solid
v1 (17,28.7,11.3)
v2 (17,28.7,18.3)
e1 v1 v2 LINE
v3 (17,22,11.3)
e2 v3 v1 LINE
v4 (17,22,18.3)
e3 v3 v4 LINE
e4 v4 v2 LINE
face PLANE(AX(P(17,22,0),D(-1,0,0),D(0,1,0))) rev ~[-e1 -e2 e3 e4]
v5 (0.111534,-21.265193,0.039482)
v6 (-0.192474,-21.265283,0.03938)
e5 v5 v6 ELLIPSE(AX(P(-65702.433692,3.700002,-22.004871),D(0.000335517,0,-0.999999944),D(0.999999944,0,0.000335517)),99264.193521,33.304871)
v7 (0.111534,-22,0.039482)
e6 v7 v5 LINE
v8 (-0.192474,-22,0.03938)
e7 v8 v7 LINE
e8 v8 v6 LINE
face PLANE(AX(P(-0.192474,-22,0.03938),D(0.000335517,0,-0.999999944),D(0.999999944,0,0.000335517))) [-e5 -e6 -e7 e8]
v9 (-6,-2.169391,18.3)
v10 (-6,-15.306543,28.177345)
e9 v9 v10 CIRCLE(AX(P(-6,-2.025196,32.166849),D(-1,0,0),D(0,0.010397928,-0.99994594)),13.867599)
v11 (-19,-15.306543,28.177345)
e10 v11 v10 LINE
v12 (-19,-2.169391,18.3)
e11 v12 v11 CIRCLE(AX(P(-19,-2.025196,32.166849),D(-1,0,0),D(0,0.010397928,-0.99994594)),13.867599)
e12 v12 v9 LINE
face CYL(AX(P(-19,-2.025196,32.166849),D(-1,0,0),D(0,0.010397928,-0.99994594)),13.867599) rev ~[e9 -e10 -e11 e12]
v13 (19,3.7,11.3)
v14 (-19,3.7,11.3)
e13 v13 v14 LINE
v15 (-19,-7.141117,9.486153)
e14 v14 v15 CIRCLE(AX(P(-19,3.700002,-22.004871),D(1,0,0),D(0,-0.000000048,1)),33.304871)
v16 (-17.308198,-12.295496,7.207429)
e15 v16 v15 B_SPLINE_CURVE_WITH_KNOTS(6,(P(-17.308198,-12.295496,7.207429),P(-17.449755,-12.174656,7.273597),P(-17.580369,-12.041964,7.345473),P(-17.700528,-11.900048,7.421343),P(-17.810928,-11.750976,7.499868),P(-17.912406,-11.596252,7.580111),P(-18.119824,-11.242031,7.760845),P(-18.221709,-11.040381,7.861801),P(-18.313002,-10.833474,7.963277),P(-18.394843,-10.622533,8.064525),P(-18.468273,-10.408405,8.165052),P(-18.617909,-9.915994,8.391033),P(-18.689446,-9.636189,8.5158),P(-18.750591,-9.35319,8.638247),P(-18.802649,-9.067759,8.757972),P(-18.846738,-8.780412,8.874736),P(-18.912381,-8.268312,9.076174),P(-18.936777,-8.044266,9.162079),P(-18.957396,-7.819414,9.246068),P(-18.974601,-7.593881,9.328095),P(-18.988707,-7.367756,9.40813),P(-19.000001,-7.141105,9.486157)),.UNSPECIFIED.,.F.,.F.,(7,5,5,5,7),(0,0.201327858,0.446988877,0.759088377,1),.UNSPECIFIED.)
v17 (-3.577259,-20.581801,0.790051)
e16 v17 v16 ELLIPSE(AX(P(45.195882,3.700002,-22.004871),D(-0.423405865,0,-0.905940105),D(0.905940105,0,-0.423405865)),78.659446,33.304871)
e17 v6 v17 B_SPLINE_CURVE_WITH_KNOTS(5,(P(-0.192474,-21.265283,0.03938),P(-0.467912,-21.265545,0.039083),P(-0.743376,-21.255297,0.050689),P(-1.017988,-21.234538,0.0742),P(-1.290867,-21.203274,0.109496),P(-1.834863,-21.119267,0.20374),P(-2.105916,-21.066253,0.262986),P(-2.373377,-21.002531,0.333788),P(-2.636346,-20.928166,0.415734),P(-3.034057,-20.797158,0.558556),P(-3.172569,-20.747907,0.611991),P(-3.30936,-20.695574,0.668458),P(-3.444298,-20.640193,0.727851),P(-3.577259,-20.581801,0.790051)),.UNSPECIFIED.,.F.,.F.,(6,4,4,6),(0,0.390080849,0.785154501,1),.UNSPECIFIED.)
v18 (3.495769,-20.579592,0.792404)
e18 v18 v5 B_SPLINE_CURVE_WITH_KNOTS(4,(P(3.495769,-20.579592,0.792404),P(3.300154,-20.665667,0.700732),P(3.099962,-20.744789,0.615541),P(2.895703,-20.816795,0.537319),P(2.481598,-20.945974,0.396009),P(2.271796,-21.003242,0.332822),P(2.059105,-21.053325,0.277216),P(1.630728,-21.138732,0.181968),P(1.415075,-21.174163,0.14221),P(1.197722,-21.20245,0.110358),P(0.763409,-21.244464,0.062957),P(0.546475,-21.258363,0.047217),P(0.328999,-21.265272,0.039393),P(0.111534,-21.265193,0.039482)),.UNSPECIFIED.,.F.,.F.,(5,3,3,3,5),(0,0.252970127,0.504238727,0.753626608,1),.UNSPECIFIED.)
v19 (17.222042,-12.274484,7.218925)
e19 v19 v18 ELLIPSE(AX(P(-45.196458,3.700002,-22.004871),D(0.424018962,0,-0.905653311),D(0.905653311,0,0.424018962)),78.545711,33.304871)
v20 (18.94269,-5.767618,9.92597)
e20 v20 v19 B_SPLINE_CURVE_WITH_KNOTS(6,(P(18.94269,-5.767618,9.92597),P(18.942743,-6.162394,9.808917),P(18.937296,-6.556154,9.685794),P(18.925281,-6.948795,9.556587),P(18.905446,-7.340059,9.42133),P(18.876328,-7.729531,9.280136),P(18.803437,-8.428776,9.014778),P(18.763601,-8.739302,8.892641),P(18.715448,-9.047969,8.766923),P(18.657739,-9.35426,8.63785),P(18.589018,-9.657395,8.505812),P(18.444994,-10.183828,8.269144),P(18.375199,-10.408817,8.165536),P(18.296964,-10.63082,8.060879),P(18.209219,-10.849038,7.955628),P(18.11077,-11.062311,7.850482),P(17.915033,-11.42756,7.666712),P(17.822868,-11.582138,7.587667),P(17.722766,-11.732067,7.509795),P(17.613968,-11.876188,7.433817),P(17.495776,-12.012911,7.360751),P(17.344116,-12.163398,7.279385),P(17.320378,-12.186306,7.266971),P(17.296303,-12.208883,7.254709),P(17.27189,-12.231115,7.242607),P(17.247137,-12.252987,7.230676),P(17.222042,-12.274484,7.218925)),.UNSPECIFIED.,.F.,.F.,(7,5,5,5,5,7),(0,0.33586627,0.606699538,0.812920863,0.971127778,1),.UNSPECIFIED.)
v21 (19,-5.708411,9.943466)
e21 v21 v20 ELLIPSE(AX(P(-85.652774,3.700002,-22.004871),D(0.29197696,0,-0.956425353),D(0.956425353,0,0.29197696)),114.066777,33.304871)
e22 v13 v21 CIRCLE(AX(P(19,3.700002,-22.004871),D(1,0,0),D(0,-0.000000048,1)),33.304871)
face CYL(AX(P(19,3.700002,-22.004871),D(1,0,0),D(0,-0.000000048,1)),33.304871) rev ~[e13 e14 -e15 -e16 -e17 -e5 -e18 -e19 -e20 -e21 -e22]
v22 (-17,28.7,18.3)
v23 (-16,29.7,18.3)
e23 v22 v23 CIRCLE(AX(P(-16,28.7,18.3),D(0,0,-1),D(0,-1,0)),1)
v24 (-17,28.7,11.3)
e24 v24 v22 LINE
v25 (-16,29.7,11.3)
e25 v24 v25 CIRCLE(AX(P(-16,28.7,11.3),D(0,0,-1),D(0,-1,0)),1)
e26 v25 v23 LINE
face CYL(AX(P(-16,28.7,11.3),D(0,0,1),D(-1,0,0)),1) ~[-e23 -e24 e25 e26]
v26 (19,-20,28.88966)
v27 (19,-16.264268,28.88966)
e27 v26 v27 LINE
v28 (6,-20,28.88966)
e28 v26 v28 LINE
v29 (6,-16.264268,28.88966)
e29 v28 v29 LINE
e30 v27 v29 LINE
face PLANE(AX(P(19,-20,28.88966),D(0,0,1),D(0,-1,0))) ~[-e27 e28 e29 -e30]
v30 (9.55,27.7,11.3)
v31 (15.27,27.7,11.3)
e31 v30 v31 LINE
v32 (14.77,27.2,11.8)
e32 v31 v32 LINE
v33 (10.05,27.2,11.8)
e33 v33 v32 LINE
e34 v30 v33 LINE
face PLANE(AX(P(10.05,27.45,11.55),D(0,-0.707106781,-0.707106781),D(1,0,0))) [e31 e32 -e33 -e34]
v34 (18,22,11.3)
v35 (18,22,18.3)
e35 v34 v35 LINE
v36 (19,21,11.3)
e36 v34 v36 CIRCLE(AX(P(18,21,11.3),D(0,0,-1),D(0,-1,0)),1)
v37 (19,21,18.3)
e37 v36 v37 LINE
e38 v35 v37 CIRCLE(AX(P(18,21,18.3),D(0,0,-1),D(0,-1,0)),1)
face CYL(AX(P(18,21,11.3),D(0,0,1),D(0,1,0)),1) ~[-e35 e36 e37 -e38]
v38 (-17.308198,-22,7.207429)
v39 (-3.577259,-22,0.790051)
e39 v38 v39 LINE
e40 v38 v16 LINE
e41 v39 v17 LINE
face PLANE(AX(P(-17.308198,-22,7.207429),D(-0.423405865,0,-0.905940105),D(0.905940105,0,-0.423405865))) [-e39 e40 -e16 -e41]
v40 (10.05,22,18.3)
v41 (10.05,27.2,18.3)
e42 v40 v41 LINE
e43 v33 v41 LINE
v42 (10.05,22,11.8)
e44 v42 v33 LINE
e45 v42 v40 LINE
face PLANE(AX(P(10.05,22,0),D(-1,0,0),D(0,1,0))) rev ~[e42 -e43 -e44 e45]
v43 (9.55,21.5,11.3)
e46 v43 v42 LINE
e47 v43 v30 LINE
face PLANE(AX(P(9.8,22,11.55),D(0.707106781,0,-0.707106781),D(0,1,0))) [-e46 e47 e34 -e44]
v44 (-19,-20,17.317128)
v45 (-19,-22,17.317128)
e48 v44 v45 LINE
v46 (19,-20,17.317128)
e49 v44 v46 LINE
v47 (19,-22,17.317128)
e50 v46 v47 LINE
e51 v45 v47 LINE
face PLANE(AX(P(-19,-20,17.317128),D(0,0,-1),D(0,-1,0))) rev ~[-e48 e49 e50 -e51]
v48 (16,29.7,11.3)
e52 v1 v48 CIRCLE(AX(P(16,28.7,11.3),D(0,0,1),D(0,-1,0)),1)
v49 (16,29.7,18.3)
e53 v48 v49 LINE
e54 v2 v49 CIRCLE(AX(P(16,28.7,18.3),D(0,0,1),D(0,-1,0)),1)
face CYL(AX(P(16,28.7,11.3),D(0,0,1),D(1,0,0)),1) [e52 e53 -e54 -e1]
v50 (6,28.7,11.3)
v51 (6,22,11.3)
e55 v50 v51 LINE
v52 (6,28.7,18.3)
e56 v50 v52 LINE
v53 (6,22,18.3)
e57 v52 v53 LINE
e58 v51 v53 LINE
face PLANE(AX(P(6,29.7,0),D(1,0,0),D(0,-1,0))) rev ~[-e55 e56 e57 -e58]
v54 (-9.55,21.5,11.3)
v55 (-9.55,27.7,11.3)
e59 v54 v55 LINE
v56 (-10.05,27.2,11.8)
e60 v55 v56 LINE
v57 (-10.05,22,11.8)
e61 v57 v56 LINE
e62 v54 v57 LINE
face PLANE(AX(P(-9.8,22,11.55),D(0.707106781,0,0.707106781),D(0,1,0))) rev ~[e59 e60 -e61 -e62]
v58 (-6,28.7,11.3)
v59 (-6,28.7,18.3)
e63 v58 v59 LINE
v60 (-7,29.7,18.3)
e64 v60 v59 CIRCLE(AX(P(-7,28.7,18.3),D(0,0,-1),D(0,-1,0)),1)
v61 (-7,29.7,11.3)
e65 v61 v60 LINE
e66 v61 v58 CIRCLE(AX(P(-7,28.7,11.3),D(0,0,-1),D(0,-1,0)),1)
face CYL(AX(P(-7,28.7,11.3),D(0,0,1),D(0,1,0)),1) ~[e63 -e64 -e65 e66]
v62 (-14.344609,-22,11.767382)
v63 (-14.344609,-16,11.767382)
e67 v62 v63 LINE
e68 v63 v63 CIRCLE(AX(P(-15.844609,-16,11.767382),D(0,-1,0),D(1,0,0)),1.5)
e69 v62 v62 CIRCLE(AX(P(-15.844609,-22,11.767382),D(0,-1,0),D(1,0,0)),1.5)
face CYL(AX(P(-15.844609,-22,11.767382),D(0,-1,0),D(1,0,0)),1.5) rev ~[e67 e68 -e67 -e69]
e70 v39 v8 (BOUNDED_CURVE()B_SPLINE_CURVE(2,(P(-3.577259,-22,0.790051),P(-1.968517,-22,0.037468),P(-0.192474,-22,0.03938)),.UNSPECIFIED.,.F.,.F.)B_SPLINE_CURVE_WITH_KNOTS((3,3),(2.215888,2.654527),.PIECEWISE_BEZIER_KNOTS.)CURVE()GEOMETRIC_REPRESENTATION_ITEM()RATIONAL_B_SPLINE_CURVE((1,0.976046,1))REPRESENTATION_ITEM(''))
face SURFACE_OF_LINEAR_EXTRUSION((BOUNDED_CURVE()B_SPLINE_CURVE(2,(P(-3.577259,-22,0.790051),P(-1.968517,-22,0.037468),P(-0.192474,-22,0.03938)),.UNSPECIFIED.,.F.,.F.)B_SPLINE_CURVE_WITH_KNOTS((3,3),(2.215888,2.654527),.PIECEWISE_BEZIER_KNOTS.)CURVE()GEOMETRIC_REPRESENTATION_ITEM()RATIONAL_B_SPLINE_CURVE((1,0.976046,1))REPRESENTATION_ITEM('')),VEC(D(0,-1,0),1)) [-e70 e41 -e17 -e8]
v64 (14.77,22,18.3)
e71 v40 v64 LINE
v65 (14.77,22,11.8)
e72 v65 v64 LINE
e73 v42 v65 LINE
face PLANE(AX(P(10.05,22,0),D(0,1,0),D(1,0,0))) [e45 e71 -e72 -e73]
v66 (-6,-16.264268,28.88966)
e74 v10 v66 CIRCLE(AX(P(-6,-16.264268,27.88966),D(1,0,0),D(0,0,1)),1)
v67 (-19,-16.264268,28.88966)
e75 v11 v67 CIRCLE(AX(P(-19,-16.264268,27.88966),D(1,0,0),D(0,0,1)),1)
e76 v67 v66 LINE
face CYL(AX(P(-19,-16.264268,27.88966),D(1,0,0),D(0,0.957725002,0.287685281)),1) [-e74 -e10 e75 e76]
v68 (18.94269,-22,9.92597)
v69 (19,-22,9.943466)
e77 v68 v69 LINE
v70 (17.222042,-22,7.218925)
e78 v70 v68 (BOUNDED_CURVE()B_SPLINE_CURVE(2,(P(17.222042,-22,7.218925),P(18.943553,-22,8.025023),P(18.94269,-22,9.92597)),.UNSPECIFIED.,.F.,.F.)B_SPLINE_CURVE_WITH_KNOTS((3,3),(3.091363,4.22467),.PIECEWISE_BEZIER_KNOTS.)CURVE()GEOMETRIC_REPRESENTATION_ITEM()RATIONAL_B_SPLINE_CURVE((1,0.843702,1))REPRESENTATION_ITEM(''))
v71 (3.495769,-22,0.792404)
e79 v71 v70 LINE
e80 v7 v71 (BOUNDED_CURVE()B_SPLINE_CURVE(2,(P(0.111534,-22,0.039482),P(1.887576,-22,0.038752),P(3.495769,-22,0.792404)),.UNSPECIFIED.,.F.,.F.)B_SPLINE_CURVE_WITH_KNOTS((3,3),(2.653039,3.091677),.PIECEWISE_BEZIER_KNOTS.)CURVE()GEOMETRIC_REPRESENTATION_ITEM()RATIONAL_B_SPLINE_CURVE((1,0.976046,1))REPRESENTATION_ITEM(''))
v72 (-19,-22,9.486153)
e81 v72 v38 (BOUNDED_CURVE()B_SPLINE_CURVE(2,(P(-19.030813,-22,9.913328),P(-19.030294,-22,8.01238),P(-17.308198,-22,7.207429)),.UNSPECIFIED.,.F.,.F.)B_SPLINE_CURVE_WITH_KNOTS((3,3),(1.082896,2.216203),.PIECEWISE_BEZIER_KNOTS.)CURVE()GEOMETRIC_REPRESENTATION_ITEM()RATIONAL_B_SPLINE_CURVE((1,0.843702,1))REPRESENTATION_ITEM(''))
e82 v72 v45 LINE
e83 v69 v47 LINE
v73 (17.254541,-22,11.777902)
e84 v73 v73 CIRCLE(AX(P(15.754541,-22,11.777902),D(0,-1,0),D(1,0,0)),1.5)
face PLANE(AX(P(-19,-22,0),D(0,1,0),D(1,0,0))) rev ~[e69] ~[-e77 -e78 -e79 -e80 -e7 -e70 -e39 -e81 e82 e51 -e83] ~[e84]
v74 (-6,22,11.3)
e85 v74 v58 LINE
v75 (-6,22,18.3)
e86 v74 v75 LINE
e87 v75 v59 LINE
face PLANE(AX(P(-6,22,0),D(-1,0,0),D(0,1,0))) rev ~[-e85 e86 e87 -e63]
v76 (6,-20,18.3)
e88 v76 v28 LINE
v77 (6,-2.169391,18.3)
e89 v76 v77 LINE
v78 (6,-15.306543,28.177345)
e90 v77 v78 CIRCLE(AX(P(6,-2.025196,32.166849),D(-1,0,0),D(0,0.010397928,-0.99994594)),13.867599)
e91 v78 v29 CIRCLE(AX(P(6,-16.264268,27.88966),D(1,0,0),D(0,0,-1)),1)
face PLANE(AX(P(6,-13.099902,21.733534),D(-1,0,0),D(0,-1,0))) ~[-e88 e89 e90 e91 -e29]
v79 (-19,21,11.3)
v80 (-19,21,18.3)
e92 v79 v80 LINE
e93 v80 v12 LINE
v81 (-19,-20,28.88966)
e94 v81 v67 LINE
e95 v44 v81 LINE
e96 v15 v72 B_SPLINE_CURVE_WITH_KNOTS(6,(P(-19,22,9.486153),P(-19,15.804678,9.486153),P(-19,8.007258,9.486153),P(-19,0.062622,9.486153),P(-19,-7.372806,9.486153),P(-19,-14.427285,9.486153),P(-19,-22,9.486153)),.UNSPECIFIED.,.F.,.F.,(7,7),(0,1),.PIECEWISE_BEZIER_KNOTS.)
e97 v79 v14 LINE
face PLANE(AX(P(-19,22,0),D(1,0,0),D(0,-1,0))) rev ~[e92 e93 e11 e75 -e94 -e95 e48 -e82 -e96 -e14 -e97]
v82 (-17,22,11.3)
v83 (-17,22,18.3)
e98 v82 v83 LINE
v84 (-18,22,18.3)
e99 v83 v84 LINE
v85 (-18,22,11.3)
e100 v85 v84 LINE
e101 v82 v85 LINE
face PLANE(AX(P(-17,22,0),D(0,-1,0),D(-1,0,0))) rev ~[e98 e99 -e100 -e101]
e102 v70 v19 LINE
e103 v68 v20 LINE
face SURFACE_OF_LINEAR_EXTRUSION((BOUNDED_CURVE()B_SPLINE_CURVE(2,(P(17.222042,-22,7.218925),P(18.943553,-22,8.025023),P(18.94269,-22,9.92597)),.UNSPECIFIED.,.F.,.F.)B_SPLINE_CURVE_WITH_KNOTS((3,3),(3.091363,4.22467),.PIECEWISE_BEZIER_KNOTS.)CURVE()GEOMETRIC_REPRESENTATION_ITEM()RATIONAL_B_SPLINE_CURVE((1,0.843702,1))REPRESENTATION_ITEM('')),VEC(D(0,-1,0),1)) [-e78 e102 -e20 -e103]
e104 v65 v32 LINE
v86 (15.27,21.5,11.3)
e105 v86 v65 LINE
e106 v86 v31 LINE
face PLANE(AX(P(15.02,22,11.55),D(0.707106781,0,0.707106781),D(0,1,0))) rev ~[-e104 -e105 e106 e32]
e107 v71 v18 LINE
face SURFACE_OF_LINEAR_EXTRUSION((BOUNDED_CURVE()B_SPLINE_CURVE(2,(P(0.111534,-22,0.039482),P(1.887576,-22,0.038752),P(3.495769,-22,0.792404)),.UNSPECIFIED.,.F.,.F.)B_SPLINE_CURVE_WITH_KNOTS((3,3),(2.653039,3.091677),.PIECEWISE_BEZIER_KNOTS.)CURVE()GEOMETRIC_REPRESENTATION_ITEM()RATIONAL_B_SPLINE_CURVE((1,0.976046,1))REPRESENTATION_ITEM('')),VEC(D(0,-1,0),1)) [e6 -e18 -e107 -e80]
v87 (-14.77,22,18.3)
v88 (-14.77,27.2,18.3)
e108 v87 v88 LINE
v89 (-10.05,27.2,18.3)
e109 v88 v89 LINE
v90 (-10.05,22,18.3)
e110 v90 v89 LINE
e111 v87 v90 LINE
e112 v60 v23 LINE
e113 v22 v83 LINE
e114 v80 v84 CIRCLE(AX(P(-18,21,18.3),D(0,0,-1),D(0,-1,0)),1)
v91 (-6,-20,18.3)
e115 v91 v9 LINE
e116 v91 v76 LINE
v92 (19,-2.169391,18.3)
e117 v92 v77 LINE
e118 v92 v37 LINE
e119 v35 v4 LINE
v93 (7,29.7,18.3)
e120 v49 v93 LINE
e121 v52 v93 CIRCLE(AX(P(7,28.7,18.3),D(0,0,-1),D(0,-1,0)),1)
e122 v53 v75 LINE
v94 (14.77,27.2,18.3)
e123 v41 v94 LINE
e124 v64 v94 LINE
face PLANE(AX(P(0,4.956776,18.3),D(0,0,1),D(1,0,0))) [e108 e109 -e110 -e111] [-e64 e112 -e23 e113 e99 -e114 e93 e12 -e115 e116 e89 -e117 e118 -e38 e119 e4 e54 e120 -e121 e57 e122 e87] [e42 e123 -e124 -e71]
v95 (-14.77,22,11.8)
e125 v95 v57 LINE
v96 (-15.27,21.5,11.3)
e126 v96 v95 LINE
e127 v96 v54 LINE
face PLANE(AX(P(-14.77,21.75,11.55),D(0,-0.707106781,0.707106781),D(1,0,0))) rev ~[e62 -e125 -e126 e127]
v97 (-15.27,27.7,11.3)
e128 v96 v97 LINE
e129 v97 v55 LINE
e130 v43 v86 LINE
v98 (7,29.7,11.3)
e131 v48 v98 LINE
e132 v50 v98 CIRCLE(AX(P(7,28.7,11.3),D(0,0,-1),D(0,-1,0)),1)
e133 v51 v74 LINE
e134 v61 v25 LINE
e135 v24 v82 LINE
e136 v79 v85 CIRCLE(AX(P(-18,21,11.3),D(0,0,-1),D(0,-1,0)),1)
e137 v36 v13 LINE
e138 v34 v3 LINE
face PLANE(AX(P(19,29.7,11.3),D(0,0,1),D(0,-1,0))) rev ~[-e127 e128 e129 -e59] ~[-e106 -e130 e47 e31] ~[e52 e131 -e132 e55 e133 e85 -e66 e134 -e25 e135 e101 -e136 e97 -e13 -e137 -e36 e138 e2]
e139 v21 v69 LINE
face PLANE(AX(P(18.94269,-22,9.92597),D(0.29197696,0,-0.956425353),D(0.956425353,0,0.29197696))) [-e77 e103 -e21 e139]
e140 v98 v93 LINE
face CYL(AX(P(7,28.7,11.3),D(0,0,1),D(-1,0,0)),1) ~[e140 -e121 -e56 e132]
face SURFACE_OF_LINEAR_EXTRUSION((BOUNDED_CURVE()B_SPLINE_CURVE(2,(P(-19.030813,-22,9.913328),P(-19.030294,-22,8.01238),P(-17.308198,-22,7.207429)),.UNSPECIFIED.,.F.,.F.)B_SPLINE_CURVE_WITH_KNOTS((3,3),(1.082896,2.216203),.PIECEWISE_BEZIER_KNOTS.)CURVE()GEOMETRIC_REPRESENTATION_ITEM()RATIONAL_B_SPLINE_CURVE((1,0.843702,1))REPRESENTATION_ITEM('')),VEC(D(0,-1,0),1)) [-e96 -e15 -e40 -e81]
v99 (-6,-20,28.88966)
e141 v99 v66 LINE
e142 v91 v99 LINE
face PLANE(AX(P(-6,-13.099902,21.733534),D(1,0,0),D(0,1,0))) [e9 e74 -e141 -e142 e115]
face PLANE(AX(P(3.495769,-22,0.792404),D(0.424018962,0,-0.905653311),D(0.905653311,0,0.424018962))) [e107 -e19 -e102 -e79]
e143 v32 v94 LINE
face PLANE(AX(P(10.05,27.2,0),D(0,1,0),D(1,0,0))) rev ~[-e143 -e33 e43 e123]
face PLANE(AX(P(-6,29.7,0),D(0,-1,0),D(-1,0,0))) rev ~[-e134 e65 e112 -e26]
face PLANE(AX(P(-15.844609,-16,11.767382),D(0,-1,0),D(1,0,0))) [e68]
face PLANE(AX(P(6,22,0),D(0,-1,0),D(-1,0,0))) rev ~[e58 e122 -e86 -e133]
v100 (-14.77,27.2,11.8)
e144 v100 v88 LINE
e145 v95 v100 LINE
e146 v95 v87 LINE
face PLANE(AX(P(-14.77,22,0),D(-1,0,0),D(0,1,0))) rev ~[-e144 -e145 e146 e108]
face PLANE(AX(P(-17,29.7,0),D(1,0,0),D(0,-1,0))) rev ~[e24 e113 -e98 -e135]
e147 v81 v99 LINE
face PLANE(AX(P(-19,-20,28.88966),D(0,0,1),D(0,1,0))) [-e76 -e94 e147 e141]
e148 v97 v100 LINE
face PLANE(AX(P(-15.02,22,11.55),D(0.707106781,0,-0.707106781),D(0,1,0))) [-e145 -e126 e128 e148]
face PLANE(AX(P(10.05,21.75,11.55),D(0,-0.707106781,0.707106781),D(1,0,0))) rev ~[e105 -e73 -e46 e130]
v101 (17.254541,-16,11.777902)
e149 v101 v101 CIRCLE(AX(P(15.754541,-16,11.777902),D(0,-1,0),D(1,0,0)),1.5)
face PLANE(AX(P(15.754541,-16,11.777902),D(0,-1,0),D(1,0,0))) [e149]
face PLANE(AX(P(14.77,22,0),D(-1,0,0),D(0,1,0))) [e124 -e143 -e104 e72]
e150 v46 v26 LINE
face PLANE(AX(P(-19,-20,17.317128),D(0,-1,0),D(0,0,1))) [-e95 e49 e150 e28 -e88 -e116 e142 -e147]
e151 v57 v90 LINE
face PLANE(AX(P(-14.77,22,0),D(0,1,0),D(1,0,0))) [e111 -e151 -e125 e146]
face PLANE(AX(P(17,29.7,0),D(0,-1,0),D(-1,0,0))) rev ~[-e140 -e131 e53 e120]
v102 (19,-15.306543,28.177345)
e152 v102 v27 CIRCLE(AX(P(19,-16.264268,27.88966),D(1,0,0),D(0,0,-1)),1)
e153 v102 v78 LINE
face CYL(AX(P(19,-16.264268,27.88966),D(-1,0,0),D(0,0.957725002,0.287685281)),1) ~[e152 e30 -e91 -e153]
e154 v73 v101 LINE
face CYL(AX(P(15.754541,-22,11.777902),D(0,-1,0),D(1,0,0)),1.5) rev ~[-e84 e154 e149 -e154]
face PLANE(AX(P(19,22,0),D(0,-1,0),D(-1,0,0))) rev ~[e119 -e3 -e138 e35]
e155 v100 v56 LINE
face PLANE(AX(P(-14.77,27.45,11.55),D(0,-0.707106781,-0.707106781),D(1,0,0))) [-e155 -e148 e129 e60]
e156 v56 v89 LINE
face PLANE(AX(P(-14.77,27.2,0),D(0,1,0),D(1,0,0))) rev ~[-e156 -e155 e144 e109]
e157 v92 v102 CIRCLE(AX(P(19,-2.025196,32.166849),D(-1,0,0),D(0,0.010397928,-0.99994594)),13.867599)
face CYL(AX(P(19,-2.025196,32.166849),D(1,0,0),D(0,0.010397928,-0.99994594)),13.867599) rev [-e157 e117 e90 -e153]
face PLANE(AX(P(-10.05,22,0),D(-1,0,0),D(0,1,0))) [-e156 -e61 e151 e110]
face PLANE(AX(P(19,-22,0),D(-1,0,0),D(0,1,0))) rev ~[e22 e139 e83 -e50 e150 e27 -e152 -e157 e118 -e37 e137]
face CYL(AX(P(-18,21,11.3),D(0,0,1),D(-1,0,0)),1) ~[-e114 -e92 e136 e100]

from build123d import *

# Parameters (mm, degrees)
SKETCH_W        = 4.72
SKETCH_H        = 5.2
PAD_DEPTH       = 18.3
POCKET_DEPTH    = 38.001
SKETCH002_R     = 1.5
POCKET001_DEPTH = 6
PAD001_DEPTH    = 13
SKETCH004_W     = 2
SKETCH004_H     = 0.982872
POCKET002_DEPTH = 38.001
POCKET003_DEPTH = 51.701
FILLET_R        = 1
CHAMFER_SIZE    = 0.5
FILLET001_R     = 1


with BuildPart() as part:
    # Sketch → Pad (new body)
    with BuildSketch(Plane.XY):
        Polygon((-19, 22), (-19, -22), (19, -22), (19, 22), (17, 22), (17, 29.7), (6, 29.7), (6, 22), (-6, 22), (-6, 29.7), (-17, 29.7), (-17, 22), align=None)
        with Locations((-12.41, 24.6)):
            Rectangle(SKETCH_W, SKETCH_H, mode=Mode.SUBTRACT)
        with Locations((12.41, 24.6)):
            Rectangle(SKETCH_W, SKETCH_H, mode=Mode.SUBTRACT)
    extrude(amount=PAD_DEPTH)

    # Sketch001 (on Face3 of Pad) → Pocket (cut, through all)
    with BuildSketch(Plane.YZ.offset(19)):
        with BuildLine():
            Line((29.7, 11.3), (29.7, 0))
            Line((29.7, 0), (-21.3, 0))
            ThreePointArc((3.7, 11.3), (-10.017598, 8.343801), (-21.3, 0))
            Line((29.7, 11.3), (3.7, 11.3))
        make_face()
    extrude(amount=-POCKET_DEPTH, mode=Mode.SUBTRACT)

    # Sketch002 (on Face5 of Pocket) → Pocket001 (cut)
    with BuildSketch(Plane.XZ.offset(22)):
        with Locations((-15.844609, 11.767382)):
            Circle(SKETCH002_R)
        with Locations((15.754541, 11.777902)):
            Circle(SKETCH002_R)
    extrude(amount=-POCKET001_DEPTH, mode=Mode.SUBTRACT)

    # Sketch003 (on Face1 of Pocket001) → Pad001 (join)
    with BuildSketch(Plane(origin=(-19, 0, 0), x_dir=(0, -1, 0), z_dir=(-1, 0, 0))):
        with BuildLine():
            Line((20, 18.3), (1.881002, 18.3))
            ThreePointArc((1.881002, 18.3), (10.537629, 21.219302), (15.5, 28.88966))
            Line((20, 28.88966), (15.5, 28.88966))
            Line((20, 18.3), (20, 28.88966))
        make_face()
    pad001 = extrude(amount=-PAD001_DEPTH)

    # Mirrored: Pad001 across YZ
    add(pad001.mirror(Plane.YZ))

    # Sketch004 (on Face5 of Mirrored) → Pocket002 (cut, through all)
    with BuildSketch(Plane(origin=(-19, 0, 0), x_dir=(0, -1, 0), z_dir=(-1, 0, 0))):
        with Locations((21, 17.808564)):
            Rectangle(SKETCH004_W, SKETCH004_H)
    extrude(amount=-POCKET002_DEPTH, mode=Mode.SUBTRACT)

    # Sketch005 (on Face23 of Pocket002) → Pocket003 (cut, through all)
    with BuildSketch(Plane.XZ.offset(22)):
        with BuildLine():
            add(Edge.make_bspline(
                [(-19.030813, 9.913328), (-19.030294, 8.01238), (-17.308198, 7.207429)],
                knots=[1.082896, 1.082896, 1.082896, 2.216203, 2.216203, 2.216203], degree=2, weights=[1, 0.843702, 1]))
            Line((-17.308198, 7.207429), (-3.577259, 0.790051))
            add(Edge.make_bspline(
                [(-3.577259, 0.790051), (-1.968517, 0.037468), (-0.192474, 0.03938)],
                knots=[2.215888, 2.215888, 2.215888, 2.654527, 2.654527, 2.654527], degree=2, weights=[1, 0.976046, 1]))
            Line((-0.192474, 0.03938), (0.111534, 0.039482))
            add(Edge.make_bspline(
                [(0.111534, 0.039482), (1.887576, 0.038752), (3.495769, 0.792404)],
                knots=[2.653039, 2.653039, 2.653039, 3.091677, 3.091677, 3.091677], degree=2, weights=[1, 0.976046, 1]))
            Line((3.495769, 0.792404), (17.222042, 7.218925))
            add(Edge.make_bspline(
                [(17.222042, 7.218925), (18.943553, 8.025023), (18.94269, 9.92597)],
                knots=[3.091363, 3.091363, 3.091363, 4.22467, 4.22467, 4.22467], degree=2, weights=[1, 0.843702, 1]))
            Line((18.94269, 9.92597), (19.755945, 10.17424))
            Line((19.755945, 10.17424), (19.755945, -1.191288))
            Line((19.755945, -1.191288), (-20.023405, -1.191288))
            Line((-20.023405, -1.191288), (-20.023405, 9.913328))
            Line((-20.023405, 9.913328), (-19.030813, 9.913328))
        make_face()
    extrude(amount=-POCKET003_DEPTH, mode=Mode.SUBTRACT)

    # Fillet
    fillet_edges = [part.edges().sort_by_distance(p)[0] for p in [
        (19, 22, 14.8),
        (17, 29.7, 14.8),
        (6, 29.7, 14.8),
        (-6, 29.7, 14.8),
        (-17, 29.7, 14.8),
        (-19, 22, 14.8),
    ]]
    fillet(fillet_edges, radius=FILLET_R)

    # Chamfer
    chamfer_edges = [part.edges().sort_by_distance(p)[0] for p in [
        (12.41, 22, 11.3),
        (10.05, 24.6, 11.3),
        (12.41, 27.2, 11.3),
        (14.77, 24.6, 11.3),
        (-10.05, 24.6, 11.3),
        (-12.41, 22, 11.3),
        (-14.77, 24.6, 11.3),
        (-12.41, 27.2, 11.3),
    ]]
    chamfer(chamfer_edges, length=CHAMFER_SIZE)

    # Fillet001
    fillet001_edges = [part.edges().sort_by_distance(p)[0] for p in [
        (-12.5, -15.5, 28.88966),
        (12.5, -15.5, 28.88966),
    ]]
    fillet(fillet001_edges, radius=FILLET001_R)


solid = part.part
